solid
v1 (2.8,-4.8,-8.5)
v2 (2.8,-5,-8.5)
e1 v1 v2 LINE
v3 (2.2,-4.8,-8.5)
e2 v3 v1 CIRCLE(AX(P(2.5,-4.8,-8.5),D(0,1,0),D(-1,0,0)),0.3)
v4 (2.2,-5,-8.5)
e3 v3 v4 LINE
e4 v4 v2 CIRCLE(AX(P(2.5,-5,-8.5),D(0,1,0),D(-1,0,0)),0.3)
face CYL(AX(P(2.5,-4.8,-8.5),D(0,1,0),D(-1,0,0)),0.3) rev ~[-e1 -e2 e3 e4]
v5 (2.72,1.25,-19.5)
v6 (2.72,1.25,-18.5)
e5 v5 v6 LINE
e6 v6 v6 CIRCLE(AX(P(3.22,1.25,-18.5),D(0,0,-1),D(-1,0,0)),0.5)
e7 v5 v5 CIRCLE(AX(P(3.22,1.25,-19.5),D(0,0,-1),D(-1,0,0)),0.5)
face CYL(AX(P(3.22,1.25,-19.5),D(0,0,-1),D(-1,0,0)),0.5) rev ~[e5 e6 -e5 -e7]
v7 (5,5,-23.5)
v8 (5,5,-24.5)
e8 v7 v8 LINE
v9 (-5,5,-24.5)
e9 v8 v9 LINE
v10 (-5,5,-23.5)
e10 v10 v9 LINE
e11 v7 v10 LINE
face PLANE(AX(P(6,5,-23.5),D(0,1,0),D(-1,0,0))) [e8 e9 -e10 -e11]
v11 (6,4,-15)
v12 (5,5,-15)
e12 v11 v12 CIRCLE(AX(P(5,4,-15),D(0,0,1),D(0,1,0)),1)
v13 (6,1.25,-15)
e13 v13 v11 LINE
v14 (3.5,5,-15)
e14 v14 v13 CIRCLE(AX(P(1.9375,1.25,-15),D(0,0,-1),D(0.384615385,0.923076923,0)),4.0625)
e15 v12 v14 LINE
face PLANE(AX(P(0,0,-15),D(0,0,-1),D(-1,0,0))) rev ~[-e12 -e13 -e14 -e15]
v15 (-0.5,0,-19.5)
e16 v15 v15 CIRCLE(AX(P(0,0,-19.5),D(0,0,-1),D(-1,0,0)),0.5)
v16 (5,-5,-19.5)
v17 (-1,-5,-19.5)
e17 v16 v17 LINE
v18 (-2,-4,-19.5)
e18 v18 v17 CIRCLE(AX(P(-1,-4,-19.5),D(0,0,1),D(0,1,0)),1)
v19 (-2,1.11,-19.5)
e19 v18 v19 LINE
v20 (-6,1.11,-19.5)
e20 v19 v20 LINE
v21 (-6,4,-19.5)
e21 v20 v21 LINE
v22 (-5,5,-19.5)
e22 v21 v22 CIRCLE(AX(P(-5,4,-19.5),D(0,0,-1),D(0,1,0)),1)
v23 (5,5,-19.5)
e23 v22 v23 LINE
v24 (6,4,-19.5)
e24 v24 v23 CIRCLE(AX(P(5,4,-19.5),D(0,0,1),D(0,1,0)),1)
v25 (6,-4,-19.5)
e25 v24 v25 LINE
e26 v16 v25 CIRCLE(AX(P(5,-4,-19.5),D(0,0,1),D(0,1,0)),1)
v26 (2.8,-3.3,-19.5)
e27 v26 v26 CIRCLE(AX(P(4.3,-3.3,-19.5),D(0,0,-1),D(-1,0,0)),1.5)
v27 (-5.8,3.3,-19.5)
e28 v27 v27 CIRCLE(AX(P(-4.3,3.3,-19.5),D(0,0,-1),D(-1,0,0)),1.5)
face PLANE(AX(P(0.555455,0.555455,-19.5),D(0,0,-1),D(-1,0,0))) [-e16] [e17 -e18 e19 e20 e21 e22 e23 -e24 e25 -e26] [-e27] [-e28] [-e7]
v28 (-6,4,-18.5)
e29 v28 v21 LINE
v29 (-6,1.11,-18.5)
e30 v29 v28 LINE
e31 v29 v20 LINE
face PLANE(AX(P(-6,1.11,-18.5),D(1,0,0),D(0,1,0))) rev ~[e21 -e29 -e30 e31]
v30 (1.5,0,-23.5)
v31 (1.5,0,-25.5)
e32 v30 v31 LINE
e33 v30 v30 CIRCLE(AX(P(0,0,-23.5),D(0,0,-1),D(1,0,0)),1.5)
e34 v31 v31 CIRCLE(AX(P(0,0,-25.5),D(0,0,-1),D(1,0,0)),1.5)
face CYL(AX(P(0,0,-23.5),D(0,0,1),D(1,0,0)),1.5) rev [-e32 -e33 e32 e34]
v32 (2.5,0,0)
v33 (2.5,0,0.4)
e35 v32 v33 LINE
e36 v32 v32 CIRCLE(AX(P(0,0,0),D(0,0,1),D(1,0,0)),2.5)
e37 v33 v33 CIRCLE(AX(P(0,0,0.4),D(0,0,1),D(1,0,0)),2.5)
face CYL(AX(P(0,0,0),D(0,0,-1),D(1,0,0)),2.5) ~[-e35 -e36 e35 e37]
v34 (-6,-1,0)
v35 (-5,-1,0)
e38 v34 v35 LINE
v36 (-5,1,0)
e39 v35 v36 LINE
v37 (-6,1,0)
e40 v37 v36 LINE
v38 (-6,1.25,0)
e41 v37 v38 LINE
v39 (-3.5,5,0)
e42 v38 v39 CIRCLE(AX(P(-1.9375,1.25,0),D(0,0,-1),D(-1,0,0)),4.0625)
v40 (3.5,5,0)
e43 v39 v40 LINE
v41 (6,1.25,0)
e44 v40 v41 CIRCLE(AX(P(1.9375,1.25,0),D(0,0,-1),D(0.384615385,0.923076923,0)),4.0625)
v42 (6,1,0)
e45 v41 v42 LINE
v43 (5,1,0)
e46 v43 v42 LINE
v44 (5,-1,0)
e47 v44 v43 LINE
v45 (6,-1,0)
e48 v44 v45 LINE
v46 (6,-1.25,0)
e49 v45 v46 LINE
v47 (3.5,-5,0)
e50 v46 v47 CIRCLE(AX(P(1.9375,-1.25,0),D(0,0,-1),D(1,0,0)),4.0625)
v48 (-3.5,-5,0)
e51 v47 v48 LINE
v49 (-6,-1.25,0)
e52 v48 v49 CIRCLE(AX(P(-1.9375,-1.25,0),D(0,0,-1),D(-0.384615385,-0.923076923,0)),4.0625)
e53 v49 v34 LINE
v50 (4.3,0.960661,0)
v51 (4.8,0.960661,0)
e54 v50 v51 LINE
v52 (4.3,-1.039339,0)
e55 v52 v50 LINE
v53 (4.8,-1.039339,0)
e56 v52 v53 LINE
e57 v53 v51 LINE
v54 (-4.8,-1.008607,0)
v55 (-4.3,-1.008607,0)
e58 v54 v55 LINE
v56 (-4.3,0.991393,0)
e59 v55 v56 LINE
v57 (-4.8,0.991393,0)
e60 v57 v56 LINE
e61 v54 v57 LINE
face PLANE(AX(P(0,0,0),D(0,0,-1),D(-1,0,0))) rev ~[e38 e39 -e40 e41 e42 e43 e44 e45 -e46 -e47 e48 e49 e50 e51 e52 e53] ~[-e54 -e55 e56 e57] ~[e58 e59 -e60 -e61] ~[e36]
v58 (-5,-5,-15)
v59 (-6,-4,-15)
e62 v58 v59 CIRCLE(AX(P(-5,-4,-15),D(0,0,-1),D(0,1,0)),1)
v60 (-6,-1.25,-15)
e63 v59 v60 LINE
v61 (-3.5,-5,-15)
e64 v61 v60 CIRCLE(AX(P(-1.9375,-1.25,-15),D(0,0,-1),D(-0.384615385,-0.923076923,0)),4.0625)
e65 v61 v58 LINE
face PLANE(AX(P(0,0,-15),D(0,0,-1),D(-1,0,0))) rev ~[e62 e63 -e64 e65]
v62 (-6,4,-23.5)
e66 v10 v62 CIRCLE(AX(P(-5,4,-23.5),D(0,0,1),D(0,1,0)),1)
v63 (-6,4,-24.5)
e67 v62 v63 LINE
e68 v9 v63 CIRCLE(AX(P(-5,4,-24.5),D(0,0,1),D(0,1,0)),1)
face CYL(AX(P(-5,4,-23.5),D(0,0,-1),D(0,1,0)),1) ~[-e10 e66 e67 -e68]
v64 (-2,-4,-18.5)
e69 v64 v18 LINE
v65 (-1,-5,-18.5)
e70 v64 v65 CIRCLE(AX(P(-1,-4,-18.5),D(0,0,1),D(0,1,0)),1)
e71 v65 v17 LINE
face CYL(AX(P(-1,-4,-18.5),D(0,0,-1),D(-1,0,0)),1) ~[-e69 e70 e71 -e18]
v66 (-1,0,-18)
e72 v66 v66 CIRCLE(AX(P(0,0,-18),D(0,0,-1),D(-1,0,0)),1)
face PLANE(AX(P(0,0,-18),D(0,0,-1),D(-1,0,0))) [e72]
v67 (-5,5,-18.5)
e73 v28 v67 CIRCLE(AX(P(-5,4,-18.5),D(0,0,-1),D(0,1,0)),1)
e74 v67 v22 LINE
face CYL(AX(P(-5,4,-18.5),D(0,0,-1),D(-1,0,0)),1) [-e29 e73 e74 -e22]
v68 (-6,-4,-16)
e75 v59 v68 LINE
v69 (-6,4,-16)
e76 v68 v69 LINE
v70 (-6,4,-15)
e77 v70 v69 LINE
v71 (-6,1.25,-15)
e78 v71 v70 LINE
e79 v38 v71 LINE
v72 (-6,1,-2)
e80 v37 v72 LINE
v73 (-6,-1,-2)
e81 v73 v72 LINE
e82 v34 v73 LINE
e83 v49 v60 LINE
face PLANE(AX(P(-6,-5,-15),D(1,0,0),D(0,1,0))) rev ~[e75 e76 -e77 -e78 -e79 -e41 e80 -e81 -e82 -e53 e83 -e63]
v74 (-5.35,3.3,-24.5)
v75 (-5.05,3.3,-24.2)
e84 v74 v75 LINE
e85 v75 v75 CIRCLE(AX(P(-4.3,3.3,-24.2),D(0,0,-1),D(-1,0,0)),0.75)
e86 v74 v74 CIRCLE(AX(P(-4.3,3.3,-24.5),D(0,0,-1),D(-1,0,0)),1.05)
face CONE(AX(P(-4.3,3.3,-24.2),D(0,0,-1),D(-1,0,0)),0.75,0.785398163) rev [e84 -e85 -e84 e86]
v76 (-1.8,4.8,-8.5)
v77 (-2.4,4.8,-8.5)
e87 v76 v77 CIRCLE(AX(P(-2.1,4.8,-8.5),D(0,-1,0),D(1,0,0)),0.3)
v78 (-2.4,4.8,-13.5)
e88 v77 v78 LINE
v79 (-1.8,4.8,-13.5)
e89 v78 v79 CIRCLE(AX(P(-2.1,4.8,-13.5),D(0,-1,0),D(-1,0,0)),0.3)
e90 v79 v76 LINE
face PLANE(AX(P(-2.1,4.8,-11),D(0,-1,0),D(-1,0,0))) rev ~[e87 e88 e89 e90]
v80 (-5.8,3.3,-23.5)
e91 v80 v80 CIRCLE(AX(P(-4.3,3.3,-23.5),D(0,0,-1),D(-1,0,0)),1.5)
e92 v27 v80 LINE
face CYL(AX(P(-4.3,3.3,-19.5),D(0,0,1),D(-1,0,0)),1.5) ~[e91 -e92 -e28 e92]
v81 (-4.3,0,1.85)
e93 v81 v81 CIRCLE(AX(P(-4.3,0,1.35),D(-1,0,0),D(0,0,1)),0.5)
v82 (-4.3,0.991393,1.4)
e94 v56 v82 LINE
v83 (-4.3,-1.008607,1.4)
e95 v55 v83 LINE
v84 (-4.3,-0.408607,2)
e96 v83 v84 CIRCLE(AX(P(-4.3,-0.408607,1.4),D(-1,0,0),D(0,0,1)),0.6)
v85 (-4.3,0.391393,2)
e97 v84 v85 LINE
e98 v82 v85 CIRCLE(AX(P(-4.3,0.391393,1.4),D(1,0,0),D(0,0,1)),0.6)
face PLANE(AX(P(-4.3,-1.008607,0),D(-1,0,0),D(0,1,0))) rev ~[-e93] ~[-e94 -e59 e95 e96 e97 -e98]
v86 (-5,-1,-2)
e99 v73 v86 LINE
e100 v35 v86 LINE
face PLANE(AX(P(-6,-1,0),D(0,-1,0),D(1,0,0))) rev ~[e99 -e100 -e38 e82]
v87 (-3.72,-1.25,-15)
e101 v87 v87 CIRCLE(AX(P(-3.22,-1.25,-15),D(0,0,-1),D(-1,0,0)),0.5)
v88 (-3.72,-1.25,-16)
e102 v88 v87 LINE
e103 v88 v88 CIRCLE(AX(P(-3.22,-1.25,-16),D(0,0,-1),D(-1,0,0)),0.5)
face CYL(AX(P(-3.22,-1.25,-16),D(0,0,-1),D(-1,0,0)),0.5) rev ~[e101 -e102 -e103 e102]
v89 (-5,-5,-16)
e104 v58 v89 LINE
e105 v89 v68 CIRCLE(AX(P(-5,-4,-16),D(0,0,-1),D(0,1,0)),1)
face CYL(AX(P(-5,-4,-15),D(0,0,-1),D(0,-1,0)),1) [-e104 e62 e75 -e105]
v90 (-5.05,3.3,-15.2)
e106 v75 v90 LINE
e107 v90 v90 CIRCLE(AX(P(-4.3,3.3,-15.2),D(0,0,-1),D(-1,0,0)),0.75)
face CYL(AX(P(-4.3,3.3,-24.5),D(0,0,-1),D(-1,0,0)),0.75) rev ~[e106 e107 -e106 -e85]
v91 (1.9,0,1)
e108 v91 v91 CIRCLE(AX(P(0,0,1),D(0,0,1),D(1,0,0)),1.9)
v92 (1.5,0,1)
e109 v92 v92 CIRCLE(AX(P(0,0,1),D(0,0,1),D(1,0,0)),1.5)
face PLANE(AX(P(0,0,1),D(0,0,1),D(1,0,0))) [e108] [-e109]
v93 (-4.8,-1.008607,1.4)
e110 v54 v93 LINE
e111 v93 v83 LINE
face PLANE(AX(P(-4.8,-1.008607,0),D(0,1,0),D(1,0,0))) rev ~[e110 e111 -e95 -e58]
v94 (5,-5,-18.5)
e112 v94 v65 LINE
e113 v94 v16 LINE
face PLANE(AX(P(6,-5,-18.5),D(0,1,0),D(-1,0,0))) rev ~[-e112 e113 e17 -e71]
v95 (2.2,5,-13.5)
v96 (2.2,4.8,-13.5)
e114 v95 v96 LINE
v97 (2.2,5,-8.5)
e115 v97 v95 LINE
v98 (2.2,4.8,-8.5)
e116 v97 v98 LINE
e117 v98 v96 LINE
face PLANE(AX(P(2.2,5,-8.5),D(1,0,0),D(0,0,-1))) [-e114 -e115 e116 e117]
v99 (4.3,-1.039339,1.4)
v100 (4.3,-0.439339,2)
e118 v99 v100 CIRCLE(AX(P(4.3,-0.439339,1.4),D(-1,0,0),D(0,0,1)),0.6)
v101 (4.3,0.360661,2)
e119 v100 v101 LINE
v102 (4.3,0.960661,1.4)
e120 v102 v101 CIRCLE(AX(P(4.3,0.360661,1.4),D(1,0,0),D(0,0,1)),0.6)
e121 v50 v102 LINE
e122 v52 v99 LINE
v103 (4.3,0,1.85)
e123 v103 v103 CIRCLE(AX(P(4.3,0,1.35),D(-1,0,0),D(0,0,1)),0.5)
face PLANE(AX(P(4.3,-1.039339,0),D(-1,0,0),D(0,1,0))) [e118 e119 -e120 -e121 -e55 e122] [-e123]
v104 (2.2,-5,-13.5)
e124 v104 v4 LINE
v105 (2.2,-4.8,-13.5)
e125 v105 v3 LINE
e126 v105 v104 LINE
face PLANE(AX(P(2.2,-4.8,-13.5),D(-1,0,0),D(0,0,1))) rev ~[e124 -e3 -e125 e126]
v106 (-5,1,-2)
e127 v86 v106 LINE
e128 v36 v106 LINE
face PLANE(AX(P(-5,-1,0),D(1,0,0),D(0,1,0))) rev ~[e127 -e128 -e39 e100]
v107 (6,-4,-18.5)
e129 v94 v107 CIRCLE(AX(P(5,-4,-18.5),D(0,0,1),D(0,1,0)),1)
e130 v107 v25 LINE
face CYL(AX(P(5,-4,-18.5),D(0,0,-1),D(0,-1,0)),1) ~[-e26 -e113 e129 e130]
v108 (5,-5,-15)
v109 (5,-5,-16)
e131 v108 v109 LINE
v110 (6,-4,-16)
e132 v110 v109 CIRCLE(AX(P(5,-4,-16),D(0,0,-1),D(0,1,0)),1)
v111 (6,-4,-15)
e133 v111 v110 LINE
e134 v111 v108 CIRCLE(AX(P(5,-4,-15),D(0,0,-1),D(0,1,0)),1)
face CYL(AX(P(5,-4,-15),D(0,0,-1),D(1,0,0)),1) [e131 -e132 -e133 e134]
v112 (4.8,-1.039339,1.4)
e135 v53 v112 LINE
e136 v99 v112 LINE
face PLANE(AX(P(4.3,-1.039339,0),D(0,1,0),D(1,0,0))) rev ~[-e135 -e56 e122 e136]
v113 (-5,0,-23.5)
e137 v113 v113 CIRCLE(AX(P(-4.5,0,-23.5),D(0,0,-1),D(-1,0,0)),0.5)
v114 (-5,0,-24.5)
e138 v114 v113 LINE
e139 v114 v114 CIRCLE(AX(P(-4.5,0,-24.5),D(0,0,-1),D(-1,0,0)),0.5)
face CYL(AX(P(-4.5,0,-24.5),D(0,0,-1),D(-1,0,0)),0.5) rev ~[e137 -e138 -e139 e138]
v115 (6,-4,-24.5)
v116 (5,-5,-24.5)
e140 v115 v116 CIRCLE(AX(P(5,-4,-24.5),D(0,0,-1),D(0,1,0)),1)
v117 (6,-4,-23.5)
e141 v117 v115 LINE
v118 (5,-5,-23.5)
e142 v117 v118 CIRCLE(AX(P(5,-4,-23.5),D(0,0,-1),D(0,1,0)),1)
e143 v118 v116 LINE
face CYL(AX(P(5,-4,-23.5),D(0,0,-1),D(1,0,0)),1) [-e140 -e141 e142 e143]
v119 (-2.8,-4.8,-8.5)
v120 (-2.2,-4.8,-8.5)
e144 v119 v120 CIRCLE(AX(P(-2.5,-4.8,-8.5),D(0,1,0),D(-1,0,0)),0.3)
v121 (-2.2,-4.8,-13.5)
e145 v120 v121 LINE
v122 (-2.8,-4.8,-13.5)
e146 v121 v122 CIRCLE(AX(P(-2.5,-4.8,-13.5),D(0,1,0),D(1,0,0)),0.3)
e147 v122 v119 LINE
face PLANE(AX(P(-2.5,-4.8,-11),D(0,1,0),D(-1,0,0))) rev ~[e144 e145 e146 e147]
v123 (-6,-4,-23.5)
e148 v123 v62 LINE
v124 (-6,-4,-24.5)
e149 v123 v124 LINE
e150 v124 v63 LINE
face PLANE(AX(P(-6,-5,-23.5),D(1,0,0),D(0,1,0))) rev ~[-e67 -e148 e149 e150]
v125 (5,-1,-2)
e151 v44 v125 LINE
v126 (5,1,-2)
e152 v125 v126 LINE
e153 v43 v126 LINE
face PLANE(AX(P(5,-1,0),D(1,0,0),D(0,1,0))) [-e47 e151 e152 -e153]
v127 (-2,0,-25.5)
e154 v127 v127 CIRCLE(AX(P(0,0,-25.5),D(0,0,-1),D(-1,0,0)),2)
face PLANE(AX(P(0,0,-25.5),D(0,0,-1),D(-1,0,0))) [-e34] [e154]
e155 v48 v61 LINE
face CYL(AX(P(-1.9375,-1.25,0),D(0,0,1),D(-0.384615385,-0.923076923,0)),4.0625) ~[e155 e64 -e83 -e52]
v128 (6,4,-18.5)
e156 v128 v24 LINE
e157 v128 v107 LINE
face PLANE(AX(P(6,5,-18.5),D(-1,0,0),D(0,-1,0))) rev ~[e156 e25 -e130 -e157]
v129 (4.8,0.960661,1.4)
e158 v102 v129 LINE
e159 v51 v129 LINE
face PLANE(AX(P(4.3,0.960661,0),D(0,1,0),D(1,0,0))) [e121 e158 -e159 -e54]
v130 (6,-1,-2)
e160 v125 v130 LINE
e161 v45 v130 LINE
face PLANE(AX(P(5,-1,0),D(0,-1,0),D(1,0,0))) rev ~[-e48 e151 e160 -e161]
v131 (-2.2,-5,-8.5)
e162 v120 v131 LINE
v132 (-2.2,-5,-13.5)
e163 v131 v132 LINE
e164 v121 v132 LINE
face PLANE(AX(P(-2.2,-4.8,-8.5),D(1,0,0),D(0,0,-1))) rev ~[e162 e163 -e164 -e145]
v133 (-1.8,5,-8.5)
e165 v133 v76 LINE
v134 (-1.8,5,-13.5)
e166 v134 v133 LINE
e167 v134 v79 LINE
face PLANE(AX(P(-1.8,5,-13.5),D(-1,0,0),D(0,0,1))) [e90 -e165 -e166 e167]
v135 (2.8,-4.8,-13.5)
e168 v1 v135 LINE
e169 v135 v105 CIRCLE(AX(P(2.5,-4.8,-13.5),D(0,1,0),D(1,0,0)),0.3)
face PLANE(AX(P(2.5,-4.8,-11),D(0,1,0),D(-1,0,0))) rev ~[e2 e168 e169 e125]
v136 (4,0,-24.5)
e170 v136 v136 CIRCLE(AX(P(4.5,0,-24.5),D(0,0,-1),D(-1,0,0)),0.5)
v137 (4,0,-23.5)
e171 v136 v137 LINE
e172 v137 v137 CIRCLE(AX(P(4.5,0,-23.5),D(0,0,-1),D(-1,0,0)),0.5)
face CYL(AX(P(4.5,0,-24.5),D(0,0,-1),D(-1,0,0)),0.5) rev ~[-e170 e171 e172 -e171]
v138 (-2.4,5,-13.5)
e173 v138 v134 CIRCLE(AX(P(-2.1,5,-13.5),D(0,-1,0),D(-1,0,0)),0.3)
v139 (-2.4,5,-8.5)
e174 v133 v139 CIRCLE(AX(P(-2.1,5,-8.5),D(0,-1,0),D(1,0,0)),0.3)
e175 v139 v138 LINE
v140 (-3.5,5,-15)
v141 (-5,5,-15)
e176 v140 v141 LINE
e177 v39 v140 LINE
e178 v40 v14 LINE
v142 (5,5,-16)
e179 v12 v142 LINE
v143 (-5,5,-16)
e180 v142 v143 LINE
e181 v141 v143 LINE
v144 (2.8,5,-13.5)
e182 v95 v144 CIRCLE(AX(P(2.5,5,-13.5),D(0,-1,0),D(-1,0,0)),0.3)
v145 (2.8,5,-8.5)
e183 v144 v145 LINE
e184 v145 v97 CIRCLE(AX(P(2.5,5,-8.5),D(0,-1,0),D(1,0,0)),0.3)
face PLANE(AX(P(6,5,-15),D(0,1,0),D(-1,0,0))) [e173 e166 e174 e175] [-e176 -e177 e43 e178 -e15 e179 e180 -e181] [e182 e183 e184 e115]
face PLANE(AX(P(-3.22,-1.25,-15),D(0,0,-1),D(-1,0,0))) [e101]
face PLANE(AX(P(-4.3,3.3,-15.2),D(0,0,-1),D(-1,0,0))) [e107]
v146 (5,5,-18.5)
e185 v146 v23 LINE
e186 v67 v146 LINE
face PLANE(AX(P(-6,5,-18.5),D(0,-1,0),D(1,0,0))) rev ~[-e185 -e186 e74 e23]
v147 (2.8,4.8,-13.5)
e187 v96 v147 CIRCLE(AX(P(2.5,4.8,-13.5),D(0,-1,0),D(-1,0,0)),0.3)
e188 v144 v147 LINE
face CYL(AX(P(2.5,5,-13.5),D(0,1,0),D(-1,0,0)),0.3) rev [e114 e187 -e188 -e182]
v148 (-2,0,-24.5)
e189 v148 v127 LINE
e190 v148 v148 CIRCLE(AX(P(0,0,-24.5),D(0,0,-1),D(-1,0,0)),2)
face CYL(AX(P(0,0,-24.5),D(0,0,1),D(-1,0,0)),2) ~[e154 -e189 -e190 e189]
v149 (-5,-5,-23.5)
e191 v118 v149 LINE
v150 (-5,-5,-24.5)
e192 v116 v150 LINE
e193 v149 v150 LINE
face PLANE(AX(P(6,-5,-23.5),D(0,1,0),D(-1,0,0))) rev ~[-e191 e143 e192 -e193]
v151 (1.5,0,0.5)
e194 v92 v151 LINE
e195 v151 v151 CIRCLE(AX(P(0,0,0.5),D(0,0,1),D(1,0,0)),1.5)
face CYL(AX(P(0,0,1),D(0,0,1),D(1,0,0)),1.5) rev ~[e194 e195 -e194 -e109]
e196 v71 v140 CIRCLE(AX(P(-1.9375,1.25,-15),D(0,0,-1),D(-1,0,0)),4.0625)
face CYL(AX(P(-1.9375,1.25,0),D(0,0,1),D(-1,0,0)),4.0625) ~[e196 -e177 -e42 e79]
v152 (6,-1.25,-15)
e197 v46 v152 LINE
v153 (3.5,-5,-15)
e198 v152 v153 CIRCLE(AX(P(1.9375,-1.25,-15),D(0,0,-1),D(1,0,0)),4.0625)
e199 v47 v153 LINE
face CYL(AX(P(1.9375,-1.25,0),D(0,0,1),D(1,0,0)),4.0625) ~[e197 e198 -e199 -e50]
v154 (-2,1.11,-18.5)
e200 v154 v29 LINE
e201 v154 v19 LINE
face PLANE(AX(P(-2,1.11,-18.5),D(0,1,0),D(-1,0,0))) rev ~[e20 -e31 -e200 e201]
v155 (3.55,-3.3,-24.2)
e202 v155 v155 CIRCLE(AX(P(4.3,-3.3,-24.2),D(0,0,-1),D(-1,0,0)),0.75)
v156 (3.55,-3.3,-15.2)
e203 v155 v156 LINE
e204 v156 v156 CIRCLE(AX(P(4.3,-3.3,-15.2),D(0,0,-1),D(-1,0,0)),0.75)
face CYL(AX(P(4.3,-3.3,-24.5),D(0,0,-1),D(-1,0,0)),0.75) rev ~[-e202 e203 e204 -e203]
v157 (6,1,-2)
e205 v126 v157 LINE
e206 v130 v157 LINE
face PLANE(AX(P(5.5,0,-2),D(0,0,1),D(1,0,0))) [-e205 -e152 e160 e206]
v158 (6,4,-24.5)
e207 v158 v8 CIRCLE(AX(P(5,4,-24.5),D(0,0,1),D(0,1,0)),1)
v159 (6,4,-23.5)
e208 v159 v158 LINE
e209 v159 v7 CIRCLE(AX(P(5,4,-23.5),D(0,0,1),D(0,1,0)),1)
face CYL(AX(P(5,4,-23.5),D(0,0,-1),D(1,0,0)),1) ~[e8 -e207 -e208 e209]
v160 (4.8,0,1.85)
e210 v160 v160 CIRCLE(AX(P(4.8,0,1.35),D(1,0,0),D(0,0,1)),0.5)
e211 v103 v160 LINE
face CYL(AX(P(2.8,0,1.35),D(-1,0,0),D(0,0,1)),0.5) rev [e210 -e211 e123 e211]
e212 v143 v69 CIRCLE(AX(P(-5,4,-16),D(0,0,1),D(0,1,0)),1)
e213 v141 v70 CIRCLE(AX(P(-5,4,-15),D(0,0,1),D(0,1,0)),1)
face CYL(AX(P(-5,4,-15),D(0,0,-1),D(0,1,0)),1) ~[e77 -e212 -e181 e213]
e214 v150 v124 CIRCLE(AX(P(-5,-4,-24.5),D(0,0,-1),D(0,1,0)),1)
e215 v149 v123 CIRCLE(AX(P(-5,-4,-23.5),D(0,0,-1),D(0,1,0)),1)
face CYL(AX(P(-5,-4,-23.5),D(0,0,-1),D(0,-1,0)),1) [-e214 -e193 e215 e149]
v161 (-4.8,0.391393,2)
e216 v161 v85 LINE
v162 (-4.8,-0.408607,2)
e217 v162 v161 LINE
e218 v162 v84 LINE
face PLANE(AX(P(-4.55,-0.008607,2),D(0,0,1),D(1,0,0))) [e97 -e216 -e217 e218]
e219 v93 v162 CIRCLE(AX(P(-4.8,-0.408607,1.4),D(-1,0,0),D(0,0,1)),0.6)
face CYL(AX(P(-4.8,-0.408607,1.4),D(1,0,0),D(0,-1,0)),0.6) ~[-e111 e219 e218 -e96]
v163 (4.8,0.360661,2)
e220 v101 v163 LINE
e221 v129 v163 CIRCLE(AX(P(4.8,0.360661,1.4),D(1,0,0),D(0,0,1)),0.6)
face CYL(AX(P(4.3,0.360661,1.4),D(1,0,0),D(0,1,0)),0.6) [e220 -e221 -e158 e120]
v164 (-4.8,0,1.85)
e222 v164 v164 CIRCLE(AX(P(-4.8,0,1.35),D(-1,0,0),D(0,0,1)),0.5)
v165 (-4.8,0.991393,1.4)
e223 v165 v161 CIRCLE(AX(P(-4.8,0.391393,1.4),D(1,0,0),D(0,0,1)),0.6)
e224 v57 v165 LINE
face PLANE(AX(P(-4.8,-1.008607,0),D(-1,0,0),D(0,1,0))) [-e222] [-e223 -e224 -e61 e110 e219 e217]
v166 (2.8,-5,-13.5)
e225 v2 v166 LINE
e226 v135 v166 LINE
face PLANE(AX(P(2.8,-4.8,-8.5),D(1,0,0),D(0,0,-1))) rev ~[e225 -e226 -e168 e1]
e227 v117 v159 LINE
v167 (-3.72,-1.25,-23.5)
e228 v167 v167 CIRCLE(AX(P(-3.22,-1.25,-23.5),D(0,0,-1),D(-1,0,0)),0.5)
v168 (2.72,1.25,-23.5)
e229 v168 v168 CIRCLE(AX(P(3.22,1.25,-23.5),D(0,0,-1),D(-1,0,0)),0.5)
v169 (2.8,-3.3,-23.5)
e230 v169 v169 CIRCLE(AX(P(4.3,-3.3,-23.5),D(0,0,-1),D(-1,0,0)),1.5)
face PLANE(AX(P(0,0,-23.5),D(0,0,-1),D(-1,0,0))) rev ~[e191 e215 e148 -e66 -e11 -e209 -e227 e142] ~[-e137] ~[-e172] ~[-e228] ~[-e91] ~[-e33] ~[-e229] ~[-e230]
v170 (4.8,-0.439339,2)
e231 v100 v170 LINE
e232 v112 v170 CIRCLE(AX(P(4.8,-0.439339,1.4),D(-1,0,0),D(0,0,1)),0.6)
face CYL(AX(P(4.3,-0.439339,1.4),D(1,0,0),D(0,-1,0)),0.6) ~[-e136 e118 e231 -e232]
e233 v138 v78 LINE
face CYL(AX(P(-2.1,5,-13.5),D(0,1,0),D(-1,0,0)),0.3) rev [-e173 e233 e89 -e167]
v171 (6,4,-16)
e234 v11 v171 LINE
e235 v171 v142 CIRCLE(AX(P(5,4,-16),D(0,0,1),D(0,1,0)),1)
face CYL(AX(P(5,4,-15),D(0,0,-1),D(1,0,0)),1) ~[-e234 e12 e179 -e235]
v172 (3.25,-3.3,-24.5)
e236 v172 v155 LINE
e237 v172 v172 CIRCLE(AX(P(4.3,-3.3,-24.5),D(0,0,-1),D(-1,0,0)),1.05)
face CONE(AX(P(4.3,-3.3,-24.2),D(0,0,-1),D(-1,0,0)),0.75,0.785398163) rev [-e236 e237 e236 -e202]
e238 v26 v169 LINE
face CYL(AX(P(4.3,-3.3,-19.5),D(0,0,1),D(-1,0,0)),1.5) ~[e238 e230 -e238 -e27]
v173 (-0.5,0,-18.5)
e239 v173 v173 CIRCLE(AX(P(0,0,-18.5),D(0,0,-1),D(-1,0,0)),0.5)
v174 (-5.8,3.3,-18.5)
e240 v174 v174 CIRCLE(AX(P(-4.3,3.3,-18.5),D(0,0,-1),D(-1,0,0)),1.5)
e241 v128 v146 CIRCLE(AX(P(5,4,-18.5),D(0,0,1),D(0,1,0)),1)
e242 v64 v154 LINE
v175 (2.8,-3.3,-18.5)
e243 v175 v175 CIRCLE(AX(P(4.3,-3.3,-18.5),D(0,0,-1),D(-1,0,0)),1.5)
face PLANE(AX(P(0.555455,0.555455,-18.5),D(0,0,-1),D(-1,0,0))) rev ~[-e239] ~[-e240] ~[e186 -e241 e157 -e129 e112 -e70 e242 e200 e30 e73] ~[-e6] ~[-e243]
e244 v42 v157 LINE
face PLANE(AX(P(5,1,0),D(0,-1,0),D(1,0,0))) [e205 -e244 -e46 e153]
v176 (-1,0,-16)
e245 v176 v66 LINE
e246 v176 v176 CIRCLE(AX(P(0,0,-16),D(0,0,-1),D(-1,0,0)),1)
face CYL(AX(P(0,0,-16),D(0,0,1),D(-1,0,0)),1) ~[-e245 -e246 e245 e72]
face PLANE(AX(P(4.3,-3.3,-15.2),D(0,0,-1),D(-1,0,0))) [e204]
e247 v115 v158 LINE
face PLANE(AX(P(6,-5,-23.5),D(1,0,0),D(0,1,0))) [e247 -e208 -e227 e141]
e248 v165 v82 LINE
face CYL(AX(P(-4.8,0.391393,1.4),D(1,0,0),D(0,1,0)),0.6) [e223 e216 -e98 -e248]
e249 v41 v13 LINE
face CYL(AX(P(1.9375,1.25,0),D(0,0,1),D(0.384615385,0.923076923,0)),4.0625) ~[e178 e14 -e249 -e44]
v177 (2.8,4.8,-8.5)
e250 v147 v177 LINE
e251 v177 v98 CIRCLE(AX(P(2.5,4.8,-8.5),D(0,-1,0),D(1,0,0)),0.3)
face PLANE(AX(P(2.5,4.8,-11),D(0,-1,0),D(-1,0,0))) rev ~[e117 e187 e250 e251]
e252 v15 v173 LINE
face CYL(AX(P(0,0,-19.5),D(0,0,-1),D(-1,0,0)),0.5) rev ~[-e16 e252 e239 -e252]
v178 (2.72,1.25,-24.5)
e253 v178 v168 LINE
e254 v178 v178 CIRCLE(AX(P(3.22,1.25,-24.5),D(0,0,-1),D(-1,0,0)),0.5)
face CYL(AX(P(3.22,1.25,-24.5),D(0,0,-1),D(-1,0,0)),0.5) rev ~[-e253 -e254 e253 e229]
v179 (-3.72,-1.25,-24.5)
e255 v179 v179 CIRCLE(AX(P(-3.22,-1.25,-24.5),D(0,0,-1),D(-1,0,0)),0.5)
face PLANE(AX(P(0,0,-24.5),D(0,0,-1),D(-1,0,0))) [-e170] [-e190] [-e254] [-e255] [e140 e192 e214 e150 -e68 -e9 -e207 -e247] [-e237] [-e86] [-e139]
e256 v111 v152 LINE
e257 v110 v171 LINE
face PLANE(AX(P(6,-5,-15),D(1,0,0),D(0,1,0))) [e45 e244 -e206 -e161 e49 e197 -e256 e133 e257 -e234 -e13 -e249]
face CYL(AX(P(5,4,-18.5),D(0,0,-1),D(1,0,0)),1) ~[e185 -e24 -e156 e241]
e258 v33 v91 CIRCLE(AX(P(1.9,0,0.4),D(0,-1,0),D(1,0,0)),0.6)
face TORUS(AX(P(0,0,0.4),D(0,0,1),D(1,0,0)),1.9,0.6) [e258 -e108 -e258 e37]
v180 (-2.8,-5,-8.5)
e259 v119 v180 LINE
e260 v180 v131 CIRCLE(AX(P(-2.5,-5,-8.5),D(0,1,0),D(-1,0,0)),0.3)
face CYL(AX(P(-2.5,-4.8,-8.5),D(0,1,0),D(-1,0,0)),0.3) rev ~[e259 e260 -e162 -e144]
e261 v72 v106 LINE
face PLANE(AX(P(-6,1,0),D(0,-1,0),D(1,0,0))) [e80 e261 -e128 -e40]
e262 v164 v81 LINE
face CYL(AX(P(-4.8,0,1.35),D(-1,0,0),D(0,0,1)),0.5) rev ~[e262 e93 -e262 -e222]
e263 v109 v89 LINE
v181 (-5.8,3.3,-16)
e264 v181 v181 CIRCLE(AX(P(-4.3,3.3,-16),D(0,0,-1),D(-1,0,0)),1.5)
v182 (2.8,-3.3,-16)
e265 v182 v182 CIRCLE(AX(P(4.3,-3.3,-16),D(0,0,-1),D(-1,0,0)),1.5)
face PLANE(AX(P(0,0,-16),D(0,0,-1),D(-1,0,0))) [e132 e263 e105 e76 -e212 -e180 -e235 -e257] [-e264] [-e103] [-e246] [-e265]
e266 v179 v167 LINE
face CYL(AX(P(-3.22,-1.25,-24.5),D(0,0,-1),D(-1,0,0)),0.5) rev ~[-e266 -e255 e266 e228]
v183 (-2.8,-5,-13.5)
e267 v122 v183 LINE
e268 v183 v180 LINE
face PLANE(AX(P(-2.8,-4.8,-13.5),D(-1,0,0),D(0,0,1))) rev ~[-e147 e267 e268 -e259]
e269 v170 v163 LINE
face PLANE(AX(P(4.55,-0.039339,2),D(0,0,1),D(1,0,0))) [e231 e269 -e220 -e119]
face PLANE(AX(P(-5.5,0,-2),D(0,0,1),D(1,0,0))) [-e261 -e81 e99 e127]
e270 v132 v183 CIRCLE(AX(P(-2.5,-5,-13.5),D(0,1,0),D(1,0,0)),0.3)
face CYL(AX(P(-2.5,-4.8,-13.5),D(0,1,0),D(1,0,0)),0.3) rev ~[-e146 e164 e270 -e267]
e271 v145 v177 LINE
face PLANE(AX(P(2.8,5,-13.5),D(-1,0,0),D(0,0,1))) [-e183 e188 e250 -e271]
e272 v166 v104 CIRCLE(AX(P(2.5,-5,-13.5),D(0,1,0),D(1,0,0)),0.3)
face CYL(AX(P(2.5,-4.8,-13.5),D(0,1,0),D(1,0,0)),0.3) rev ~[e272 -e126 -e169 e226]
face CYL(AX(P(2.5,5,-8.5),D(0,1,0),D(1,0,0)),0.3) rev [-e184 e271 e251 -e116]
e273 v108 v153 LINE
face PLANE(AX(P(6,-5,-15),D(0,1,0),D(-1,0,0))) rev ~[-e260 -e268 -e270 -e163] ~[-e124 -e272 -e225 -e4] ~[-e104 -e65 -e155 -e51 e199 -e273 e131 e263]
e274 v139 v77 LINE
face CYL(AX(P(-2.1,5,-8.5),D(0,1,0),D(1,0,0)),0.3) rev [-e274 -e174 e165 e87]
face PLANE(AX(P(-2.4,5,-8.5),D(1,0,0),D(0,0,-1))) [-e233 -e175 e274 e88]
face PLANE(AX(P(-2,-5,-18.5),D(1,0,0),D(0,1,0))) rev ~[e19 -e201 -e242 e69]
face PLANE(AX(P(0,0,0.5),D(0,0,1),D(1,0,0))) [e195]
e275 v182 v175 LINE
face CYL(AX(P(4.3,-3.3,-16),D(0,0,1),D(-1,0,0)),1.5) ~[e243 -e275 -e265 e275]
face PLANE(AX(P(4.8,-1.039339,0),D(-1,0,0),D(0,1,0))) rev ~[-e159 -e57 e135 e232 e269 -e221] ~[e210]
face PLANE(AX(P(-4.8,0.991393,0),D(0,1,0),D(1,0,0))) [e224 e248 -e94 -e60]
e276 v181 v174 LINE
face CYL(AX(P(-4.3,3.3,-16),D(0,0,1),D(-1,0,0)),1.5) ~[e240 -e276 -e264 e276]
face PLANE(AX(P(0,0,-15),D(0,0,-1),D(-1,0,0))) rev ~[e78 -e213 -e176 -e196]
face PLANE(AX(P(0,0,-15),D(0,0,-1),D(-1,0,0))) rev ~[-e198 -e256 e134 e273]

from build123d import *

# Parameters (mm, degrees)
BOSS_EXTRUDE1_DEPTH  = 15
SKETCH2_W            = 12
SKETCH2_H            = 10
BOSS_EXTRUDE2_DEPTH  = 1
FILLET1_R            = 1
SKETCH3_R            = 1
BOSS_EXTRUDE3_DEPTH  = 2
SKETCH4_R            = 1.5
BOSS_EXTRUDE4_DEPTH  = 2.5
SKETCH12_R           = 2.5
BOSS_EXTRUDE11_DEPTH = 1
SKETCH13_R           = 1.5
CUT_EXTRUDE4_DEPTH   = 0.5
FILLET5_R            = 0.6
SKETCH15_W           = 1
SKETCH15_H           = 2
CUT_EXTRUDE5_DEPTH   = 2
CUT_EXTRUDE6_DEPTH   = 0.2
CUT_EXTRUDE7_START   = -0.2
CUT_EXTRUDE7_DEPTH   = 0.2
SKETCH31_W           = 0.5
SKETCH31_H           = 2
BOSS_EXTRUDE16_DEPTH = 2
FILLET9_R            = 0.6
SKETCH32_R           = 0.5
CUT_EXTRUDE10_DEPTH  = 2
CUT_EXTRUDE11_START  = -2
SKETCH33_R           = 0.5
CUT_EXTRUDE11_DEPTH  = 2
BOSS_EXTRUDE17_DEPTH = 1
FILLET10_R           = 1
SKETCH34_R           = 1.5
BOSS_EXTRUDE18_DEPTH = 4
SKETCH35_W           = 12
SKETCH35_H           = 10
BOSS_EXTRUDE19_DEPTH = 1
SKETCH36_R           = 2
BOSS_EXTRUDE20_DEPTH = 1
CUT_EXTRUDE12_START  = -2
SKETCH37_R           = 1.5
CUT_EXTRUDE12_DEPTH  = 2
FILLET11_R           = 1
SKETCH38_R           = 0.5
CUT_EXTRUDE13_DEPTH  = 2
SKETCH39_R           = 0.75
CUT_EXTRUDE14_DEPTH  = 9.3
CHAMFER1_SIZE        = 0.3
SKETCH40_R           = 0.5
CUT_EXTRUDE15_DEPTH  = 1
SKETCH41_R           = 0.5
CUT_EXTRUDE16_DEPTH  = 1
SKETCH42_R           = 0.5
CUT_EXTRUDE17_DEPTH  = 1
SKETCH43_R           = 0.5
CUT_EXTRUDE18_DEPTH  = 1


with BuildPart() as part:
    # Sketch1 → Boss-Extrude1 (new body)
    with BuildSketch(Plane.XY):
        with BuildLine():
            Line((-6, -1.25), (-6, 1.25))
            ThreePointArc((-6, 1.25), (-5.317704321, 3.503469547), (-3.5, 5))
            Line((-3.5, 5), (3.5, 5))
            ThreePointArc((3.5, 5), (5.317704321, 3.503469547), (6, 1.25))
            Line((6, 1.25), (6, -1.25))
            ThreePointArc((6, -1.25), (5.317704321, -3.503469547), (3.5, -5))
            Line((3.5, -5), (-3.5, -5))
            ThreePointArc((-3.5, -5), (-5.317704321, -3.503469547), (-6, -1.25))
        make_face()
    extrude(amount=-BOSS_EXTRUDE1_DEPTH)

    # Sketch2 → Boss-Extrude2 (add)
    with BuildSketch(Plane(origin=(0, 0, -15), x_dir=(-1, 0, 0), z_dir=(0, 0, -1))):
        Rectangle(SKETCH2_W, SKETCH2_H)
    extrude(amount=BOSS_EXTRUDE2_DEPTH)

    # Fillet1
    fillet1_edges = [part.edges().sort_by_distance(p)[0] for p in [
        (6, 5, -15.5),
        (6, -5, -15.5),
        (-6, -5, -15.5),
        (-6, 5, -15.5),
    ]]
    fillet(fillet1_edges, radius=FILLET1_R)

    # Sketch3 → Boss-Extrude3 (add)
    with BuildSketch(Plane(origin=(0, 0, -16), x_dir=(-1, 0, 0), z_dir=(0, 0, -1))):
        Circle(SKETCH3_R)
    extrude(amount=BOSS_EXTRUDE3_DEPTH)

    # Sketch4 → Boss-Extrude4 (add)
    with BuildSketch(Plane(origin=(0, 0, -16), x_dir=(-1, 0, 0), z_dir=(0, 0, -1))):
        with Locations((4.3, 3.3)):
            Circle(SKETCH4_R)
        with Locations((-4.3, -3.3)):
            Circle(SKETCH4_R)
    extrude(amount=BOSS_EXTRUDE4_DEPTH)

    # Sketch12 → Boss-Extrude11 (add)
    with BuildSketch(Plane.XY):
        Circle(SKETCH12_R)
    extrude(amount=BOSS_EXTRUDE11_DEPTH)

    # Sketch13 → Cut-Extrude4 (cut)
    with BuildSketch(Plane.XY.offset(1)):
        Circle(SKETCH13_R)
    extrude(amount=-CUT_EXTRUDE4_DEPTH, mode=Mode.SUBTRACT)

    # Fillet5
    fillet5_edges = [part.edges().sort_by_distance(p)[0] for p in [
        (-2.5, 0, 1),
    ]]
    fillet(fillet5_edges, radius=FILLET5_R)

    # Sketch15 → Cut-Extrude5 (cut)
    with BuildSketch(Plane.XY):
        with Locations((-5.5, 0)):
            Rectangle(SKETCH15_W, SKETCH15_H)
        with Locations((5.5, 0)):
            Rectangle(SKETCH15_W, SKETCH15_H)
    extrude(amount=-CUT_EXTRUDE5_DEPTH, mode=Mode.SUBTRACT)

    # Sketch22 → Cut-Extrude6 (cut)
    with BuildSketch(Plane(origin=(0, 5, 0), x_dir=(1, 0, 0), z_dir=(0, 1, 0))):
        with BuildLine():
            Line((-2.4, 8.5), (-2.4, 13.5))
            ThreePointArc((-2.4, 13.5), (-2.1, 13.8), (-1.8, 13.5))
            Line((-1.8, 13.5), (-1.8, 8.5))
            ThreePointArc((-1.8, 8.5), (-2.1, 8.2), (-2.4, 8.5))
        make_face()
        with BuildLine():
            Line((2.2, 8.5), (2.2, 13.5))
            ThreePointArc((2.2, 13.5), (2.5, 13.8), (2.8, 13.5))
            Line((2.8, 13.5), (2.8, 8.5))
            ThreePointArc((2.8, 8.5), (2.5, 8.2), (2.2, 8.5))
        make_face()
    extrude(amount=-CUT_EXTRUDE6_DEPTH, mode=Mode.SUBTRACT)

    # Sketch23 → Cut-Extrude7 (cut)
    with BuildSketch(Plane.XZ.offset(5).offset(CUT_EXTRUDE7_START)):
        with BuildLine():
            Line((-2.8, -13.5), (-2.8, -8.5))
            ThreePointArc((-2.8, -8.5), (-2.5, -8.2), (-2.2, -8.5))
            Line((-2.2, -8.5), (-2.2, -13.5))
            ThreePointArc((-2.2, -13.5), (-2.5, -13.8), (-2.8, -13.5))
        make_face()
        with BuildLine():
            Line((2.2, -13.5), (2.2, -8.5))
            ThreePointArc((2.2, -8.5), (2.5, -8.2), (2.8, -8.5))
            Line((2.8, -8.5), (2.8, -13.5))
            ThreePointArc((2.8, -13.5), (2.5, -13.8), (2.2, -13.5))
        make_face()
    extrude(amount=CUT_EXTRUDE7_DEPTH, mode=Mode.SUBTRACT)

    # Sketch31 → Boss-Extrude16 (add)
    with BuildSketch(Plane.XY):
        with Locations((-4.55, -0.008606945)):
            Rectangle(SKETCH31_W, SKETCH31_H)
        with Locations((4.55, -0.039338836)):
            Rectangle(SKETCH31_W, SKETCH31_H)
    extrude(amount=BOSS_EXTRUDE16_DEPTH)

    # Fillet9
    fillet9_edges = [part.edges().sort_by_distance(p)[0] for p in [
        (-4.55, -1.008606945, 2),
        (-4.55, 0.991393055, 2),
        (4.55, 0.960661164, 2),
        (4.55, -1.039338836, 2),
    ]]
    fillet(fillet9_edges, radius=FILLET9_R)

    # Sketch32 → Cut-Extrude10 (cut)
    with BuildSketch(Plane.ZY.offset(4.8)):
        with Locations((1.35, 0)):
            Circle(SKETCH32_R)
    extrude(amount=-CUT_EXTRUDE10_DEPTH, mode=Mode.SUBTRACT)

    # Sketch33 → Cut-Extrude11 (cut)
    with BuildSketch(Plane(origin=(4.8, 0, 0), x_dir=(0, 0, -1), z_dir=(1, 0, 0)).offset(CUT_EXTRUDE11_START)):
        with Locations(Location((-1.35, 0, 0), (0, 0, 180))):
            Circle(SKETCH33_R)
    extrude(amount=CUT_EXTRUDE11_DEPTH, mode=Mode.SUBTRACT)

    # Sketch24 → Boss-Extrude17 (add)
    with BuildSketch(Plane(origin=(0, 0, -18.5), x_dir=(-1, 0, 0), z_dir=(0, 0, -1))):
        Polygon((2, -5), (2, 1.11), (6, 1.11), (6, 5), (-6, 5), (-6, -5), align=None)
    extrude(amount=BOSS_EXTRUDE17_DEPTH)

    # Fillet10
    fillet10_edges = [part.edges().sort_by_distance(p)[0] for p in [
        (6, 5, -19),
        (6, -5, -19),
        (-2, -5, -19),
        (-6, 5, -19),
    ]]
    fillet(fillet10_edges, radius=FILLET10_R)

    # Sketch34 → Boss-Extrude18 (add)
    with BuildSketch(Plane(origin=(0, 0, -19.5), x_dir=(-1, 0, 0), z_dir=(0, 0, -1))):
        with Locations((-4.3, -3.3)):
            Circle(SKETCH34_R)
        with Locations((4.3, 3.3)):
            Circle(SKETCH34_R)
    extrude(amount=BOSS_EXTRUDE18_DEPTH)

    # Sketch35 → Boss-Extrude19 (add)
    with BuildSketch(Plane(origin=(0, 0, -23.5), x_dir=(-1, 0, 0), z_dir=(0, 0, -1))):
        Rectangle(SKETCH35_W, SKETCH35_H)
    extrude(amount=BOSS_EXTRUDE19_DEPTH)

    # Sketch36 → Boss-Extrude20 (add)
    with BuildSketch(Plane(origin=(0, 0, -24.5), x_dir=(-1, 0, 0), z_dir=(0, 0, -1))):
        Circle(SKETCH36_R)
    extrude(amount=BOSS_EXTRUDE20_DEPTH)

    # Sketch37 → Cut-Extrude12 (cut)
    with BuildSketch(Plane(origin=(0, 0, -25.5), x_dir=(-1, 0, 0), z_dir=(0, 0, -1)).offset(CUT_EXTRUDE12_START)):
        with Locations(Location((0, 0, 0), (0, 0, 180))):
            Circle(SKETCH37_R)
    extrude(amount=CUT_EXTRUDE12_DEPTH, mode=Mode.SUBTRACT)

    # Fillet11
    fillet11_edges = [part.edges().sort_by_distance(p)[0] for p in [
        (6, 5, -24),
        (6, -5, -24),
        (-6, -5, -24),
        (-6, 5, -24),
    ]]
    fillet(fillet11_edges, radius=FILLET11_R)

    # Sketch38 → Cut-Extrude13 (cut)
    with BuildSketch(Plane(origin=(0, 0, -24.5), x_dir=(-1, 0, 0), z_dir=(0, 0, -1))):
        with Locations((-4.5, 0)):
            Circle(SKETCH38_R)
        with Locations((4.5, 0)):
            Circle(SKETCH38_R)
    extrude(amount=-CUT_EXTRUDE13_DEPTH, mode=Mode.SUBTRACT)

    # Sketch39 → Cut-Extrude14 (cut)
    with BuildSketch(Plane(origin=(0, 0, -24.5), x_dir=(-1, 0, 0), z_dir=(0, 0, -1))):
        with Locations((-4.3, -3.3)):
            Circle(SKETCH39_R)
        with Locations((4.3, 3.3)):
            Circle(SKETCH39_R)
    extrude(amount=-CUT_EXTRUDE14_DEPTH, mode=Mode.SUBTRACT)

    # Chamfer1
    chamfer1_edges = [part.edges().sort_by_distance(p)[0] for p in [
        (5.05, -3.3, -24.5),
        (-3.55, 3.3, -24.5),
    ]]
    chamfer(chamfer1_edges, length=CHAMFER1_SIZE)

    # Sketch40 → Cut-Extrude15 (cut)
    with BuildSketch(Plane(origin=(0, 0, -19.5), x_dir=(-1, 0, 0), z_dir=(0, 0, -1))):
        Circle(SKETCH40_R)
    extrude(amount=-CUT_EXTRUDE15_DEPTH, mode=Mode.SUBTRACT)

    # Sketch41 → Cut-Extrude16 (cut)
    with BuildSketch(Plane(origin=(0, 0, -24.5), x_dir=(-1, 0, 0), z_dir=(0, 0, -1))):
        with Locations((3.22, -1.25)):
            Circle(SKETCH41_R)
        with Locations((-3.22, 1.25)):
            Circle(SKETCH41_R)
    extrude(amount=-CUT_EXTRUDE16_DEPTH, mode=Mode.SUBTRACT)

    # Sketch42 → Cut-Extrude17 (cut)
    with BuildSketch(Plane(origin=(0, 0, -19.5), x_dir=(-1, 0, 0), z_dir=(0, 0, -1))):
        with Locations((-3.22, 1.25)):
            Circle(SKETCH42_R)
    extrude(amount=-CUT_EXTRUDE17_DEPTH, mode=Mode.SUBTRACT)

    # Sketch43 → Cut-Extrude18 (cut)
    with BuildSketch(Plane(origin=(0, 0, -16), x_dir=(-1, 0, 0), z_dir=(0, 0, -1))):
        with Locations((3.22, -1.25)):
            Circle(SKETCH43_R)
    extrude(amount=-CUT_EXTRUDE18_DEPTH, mode=Mode.SUBTRACT)


solid = part.part
